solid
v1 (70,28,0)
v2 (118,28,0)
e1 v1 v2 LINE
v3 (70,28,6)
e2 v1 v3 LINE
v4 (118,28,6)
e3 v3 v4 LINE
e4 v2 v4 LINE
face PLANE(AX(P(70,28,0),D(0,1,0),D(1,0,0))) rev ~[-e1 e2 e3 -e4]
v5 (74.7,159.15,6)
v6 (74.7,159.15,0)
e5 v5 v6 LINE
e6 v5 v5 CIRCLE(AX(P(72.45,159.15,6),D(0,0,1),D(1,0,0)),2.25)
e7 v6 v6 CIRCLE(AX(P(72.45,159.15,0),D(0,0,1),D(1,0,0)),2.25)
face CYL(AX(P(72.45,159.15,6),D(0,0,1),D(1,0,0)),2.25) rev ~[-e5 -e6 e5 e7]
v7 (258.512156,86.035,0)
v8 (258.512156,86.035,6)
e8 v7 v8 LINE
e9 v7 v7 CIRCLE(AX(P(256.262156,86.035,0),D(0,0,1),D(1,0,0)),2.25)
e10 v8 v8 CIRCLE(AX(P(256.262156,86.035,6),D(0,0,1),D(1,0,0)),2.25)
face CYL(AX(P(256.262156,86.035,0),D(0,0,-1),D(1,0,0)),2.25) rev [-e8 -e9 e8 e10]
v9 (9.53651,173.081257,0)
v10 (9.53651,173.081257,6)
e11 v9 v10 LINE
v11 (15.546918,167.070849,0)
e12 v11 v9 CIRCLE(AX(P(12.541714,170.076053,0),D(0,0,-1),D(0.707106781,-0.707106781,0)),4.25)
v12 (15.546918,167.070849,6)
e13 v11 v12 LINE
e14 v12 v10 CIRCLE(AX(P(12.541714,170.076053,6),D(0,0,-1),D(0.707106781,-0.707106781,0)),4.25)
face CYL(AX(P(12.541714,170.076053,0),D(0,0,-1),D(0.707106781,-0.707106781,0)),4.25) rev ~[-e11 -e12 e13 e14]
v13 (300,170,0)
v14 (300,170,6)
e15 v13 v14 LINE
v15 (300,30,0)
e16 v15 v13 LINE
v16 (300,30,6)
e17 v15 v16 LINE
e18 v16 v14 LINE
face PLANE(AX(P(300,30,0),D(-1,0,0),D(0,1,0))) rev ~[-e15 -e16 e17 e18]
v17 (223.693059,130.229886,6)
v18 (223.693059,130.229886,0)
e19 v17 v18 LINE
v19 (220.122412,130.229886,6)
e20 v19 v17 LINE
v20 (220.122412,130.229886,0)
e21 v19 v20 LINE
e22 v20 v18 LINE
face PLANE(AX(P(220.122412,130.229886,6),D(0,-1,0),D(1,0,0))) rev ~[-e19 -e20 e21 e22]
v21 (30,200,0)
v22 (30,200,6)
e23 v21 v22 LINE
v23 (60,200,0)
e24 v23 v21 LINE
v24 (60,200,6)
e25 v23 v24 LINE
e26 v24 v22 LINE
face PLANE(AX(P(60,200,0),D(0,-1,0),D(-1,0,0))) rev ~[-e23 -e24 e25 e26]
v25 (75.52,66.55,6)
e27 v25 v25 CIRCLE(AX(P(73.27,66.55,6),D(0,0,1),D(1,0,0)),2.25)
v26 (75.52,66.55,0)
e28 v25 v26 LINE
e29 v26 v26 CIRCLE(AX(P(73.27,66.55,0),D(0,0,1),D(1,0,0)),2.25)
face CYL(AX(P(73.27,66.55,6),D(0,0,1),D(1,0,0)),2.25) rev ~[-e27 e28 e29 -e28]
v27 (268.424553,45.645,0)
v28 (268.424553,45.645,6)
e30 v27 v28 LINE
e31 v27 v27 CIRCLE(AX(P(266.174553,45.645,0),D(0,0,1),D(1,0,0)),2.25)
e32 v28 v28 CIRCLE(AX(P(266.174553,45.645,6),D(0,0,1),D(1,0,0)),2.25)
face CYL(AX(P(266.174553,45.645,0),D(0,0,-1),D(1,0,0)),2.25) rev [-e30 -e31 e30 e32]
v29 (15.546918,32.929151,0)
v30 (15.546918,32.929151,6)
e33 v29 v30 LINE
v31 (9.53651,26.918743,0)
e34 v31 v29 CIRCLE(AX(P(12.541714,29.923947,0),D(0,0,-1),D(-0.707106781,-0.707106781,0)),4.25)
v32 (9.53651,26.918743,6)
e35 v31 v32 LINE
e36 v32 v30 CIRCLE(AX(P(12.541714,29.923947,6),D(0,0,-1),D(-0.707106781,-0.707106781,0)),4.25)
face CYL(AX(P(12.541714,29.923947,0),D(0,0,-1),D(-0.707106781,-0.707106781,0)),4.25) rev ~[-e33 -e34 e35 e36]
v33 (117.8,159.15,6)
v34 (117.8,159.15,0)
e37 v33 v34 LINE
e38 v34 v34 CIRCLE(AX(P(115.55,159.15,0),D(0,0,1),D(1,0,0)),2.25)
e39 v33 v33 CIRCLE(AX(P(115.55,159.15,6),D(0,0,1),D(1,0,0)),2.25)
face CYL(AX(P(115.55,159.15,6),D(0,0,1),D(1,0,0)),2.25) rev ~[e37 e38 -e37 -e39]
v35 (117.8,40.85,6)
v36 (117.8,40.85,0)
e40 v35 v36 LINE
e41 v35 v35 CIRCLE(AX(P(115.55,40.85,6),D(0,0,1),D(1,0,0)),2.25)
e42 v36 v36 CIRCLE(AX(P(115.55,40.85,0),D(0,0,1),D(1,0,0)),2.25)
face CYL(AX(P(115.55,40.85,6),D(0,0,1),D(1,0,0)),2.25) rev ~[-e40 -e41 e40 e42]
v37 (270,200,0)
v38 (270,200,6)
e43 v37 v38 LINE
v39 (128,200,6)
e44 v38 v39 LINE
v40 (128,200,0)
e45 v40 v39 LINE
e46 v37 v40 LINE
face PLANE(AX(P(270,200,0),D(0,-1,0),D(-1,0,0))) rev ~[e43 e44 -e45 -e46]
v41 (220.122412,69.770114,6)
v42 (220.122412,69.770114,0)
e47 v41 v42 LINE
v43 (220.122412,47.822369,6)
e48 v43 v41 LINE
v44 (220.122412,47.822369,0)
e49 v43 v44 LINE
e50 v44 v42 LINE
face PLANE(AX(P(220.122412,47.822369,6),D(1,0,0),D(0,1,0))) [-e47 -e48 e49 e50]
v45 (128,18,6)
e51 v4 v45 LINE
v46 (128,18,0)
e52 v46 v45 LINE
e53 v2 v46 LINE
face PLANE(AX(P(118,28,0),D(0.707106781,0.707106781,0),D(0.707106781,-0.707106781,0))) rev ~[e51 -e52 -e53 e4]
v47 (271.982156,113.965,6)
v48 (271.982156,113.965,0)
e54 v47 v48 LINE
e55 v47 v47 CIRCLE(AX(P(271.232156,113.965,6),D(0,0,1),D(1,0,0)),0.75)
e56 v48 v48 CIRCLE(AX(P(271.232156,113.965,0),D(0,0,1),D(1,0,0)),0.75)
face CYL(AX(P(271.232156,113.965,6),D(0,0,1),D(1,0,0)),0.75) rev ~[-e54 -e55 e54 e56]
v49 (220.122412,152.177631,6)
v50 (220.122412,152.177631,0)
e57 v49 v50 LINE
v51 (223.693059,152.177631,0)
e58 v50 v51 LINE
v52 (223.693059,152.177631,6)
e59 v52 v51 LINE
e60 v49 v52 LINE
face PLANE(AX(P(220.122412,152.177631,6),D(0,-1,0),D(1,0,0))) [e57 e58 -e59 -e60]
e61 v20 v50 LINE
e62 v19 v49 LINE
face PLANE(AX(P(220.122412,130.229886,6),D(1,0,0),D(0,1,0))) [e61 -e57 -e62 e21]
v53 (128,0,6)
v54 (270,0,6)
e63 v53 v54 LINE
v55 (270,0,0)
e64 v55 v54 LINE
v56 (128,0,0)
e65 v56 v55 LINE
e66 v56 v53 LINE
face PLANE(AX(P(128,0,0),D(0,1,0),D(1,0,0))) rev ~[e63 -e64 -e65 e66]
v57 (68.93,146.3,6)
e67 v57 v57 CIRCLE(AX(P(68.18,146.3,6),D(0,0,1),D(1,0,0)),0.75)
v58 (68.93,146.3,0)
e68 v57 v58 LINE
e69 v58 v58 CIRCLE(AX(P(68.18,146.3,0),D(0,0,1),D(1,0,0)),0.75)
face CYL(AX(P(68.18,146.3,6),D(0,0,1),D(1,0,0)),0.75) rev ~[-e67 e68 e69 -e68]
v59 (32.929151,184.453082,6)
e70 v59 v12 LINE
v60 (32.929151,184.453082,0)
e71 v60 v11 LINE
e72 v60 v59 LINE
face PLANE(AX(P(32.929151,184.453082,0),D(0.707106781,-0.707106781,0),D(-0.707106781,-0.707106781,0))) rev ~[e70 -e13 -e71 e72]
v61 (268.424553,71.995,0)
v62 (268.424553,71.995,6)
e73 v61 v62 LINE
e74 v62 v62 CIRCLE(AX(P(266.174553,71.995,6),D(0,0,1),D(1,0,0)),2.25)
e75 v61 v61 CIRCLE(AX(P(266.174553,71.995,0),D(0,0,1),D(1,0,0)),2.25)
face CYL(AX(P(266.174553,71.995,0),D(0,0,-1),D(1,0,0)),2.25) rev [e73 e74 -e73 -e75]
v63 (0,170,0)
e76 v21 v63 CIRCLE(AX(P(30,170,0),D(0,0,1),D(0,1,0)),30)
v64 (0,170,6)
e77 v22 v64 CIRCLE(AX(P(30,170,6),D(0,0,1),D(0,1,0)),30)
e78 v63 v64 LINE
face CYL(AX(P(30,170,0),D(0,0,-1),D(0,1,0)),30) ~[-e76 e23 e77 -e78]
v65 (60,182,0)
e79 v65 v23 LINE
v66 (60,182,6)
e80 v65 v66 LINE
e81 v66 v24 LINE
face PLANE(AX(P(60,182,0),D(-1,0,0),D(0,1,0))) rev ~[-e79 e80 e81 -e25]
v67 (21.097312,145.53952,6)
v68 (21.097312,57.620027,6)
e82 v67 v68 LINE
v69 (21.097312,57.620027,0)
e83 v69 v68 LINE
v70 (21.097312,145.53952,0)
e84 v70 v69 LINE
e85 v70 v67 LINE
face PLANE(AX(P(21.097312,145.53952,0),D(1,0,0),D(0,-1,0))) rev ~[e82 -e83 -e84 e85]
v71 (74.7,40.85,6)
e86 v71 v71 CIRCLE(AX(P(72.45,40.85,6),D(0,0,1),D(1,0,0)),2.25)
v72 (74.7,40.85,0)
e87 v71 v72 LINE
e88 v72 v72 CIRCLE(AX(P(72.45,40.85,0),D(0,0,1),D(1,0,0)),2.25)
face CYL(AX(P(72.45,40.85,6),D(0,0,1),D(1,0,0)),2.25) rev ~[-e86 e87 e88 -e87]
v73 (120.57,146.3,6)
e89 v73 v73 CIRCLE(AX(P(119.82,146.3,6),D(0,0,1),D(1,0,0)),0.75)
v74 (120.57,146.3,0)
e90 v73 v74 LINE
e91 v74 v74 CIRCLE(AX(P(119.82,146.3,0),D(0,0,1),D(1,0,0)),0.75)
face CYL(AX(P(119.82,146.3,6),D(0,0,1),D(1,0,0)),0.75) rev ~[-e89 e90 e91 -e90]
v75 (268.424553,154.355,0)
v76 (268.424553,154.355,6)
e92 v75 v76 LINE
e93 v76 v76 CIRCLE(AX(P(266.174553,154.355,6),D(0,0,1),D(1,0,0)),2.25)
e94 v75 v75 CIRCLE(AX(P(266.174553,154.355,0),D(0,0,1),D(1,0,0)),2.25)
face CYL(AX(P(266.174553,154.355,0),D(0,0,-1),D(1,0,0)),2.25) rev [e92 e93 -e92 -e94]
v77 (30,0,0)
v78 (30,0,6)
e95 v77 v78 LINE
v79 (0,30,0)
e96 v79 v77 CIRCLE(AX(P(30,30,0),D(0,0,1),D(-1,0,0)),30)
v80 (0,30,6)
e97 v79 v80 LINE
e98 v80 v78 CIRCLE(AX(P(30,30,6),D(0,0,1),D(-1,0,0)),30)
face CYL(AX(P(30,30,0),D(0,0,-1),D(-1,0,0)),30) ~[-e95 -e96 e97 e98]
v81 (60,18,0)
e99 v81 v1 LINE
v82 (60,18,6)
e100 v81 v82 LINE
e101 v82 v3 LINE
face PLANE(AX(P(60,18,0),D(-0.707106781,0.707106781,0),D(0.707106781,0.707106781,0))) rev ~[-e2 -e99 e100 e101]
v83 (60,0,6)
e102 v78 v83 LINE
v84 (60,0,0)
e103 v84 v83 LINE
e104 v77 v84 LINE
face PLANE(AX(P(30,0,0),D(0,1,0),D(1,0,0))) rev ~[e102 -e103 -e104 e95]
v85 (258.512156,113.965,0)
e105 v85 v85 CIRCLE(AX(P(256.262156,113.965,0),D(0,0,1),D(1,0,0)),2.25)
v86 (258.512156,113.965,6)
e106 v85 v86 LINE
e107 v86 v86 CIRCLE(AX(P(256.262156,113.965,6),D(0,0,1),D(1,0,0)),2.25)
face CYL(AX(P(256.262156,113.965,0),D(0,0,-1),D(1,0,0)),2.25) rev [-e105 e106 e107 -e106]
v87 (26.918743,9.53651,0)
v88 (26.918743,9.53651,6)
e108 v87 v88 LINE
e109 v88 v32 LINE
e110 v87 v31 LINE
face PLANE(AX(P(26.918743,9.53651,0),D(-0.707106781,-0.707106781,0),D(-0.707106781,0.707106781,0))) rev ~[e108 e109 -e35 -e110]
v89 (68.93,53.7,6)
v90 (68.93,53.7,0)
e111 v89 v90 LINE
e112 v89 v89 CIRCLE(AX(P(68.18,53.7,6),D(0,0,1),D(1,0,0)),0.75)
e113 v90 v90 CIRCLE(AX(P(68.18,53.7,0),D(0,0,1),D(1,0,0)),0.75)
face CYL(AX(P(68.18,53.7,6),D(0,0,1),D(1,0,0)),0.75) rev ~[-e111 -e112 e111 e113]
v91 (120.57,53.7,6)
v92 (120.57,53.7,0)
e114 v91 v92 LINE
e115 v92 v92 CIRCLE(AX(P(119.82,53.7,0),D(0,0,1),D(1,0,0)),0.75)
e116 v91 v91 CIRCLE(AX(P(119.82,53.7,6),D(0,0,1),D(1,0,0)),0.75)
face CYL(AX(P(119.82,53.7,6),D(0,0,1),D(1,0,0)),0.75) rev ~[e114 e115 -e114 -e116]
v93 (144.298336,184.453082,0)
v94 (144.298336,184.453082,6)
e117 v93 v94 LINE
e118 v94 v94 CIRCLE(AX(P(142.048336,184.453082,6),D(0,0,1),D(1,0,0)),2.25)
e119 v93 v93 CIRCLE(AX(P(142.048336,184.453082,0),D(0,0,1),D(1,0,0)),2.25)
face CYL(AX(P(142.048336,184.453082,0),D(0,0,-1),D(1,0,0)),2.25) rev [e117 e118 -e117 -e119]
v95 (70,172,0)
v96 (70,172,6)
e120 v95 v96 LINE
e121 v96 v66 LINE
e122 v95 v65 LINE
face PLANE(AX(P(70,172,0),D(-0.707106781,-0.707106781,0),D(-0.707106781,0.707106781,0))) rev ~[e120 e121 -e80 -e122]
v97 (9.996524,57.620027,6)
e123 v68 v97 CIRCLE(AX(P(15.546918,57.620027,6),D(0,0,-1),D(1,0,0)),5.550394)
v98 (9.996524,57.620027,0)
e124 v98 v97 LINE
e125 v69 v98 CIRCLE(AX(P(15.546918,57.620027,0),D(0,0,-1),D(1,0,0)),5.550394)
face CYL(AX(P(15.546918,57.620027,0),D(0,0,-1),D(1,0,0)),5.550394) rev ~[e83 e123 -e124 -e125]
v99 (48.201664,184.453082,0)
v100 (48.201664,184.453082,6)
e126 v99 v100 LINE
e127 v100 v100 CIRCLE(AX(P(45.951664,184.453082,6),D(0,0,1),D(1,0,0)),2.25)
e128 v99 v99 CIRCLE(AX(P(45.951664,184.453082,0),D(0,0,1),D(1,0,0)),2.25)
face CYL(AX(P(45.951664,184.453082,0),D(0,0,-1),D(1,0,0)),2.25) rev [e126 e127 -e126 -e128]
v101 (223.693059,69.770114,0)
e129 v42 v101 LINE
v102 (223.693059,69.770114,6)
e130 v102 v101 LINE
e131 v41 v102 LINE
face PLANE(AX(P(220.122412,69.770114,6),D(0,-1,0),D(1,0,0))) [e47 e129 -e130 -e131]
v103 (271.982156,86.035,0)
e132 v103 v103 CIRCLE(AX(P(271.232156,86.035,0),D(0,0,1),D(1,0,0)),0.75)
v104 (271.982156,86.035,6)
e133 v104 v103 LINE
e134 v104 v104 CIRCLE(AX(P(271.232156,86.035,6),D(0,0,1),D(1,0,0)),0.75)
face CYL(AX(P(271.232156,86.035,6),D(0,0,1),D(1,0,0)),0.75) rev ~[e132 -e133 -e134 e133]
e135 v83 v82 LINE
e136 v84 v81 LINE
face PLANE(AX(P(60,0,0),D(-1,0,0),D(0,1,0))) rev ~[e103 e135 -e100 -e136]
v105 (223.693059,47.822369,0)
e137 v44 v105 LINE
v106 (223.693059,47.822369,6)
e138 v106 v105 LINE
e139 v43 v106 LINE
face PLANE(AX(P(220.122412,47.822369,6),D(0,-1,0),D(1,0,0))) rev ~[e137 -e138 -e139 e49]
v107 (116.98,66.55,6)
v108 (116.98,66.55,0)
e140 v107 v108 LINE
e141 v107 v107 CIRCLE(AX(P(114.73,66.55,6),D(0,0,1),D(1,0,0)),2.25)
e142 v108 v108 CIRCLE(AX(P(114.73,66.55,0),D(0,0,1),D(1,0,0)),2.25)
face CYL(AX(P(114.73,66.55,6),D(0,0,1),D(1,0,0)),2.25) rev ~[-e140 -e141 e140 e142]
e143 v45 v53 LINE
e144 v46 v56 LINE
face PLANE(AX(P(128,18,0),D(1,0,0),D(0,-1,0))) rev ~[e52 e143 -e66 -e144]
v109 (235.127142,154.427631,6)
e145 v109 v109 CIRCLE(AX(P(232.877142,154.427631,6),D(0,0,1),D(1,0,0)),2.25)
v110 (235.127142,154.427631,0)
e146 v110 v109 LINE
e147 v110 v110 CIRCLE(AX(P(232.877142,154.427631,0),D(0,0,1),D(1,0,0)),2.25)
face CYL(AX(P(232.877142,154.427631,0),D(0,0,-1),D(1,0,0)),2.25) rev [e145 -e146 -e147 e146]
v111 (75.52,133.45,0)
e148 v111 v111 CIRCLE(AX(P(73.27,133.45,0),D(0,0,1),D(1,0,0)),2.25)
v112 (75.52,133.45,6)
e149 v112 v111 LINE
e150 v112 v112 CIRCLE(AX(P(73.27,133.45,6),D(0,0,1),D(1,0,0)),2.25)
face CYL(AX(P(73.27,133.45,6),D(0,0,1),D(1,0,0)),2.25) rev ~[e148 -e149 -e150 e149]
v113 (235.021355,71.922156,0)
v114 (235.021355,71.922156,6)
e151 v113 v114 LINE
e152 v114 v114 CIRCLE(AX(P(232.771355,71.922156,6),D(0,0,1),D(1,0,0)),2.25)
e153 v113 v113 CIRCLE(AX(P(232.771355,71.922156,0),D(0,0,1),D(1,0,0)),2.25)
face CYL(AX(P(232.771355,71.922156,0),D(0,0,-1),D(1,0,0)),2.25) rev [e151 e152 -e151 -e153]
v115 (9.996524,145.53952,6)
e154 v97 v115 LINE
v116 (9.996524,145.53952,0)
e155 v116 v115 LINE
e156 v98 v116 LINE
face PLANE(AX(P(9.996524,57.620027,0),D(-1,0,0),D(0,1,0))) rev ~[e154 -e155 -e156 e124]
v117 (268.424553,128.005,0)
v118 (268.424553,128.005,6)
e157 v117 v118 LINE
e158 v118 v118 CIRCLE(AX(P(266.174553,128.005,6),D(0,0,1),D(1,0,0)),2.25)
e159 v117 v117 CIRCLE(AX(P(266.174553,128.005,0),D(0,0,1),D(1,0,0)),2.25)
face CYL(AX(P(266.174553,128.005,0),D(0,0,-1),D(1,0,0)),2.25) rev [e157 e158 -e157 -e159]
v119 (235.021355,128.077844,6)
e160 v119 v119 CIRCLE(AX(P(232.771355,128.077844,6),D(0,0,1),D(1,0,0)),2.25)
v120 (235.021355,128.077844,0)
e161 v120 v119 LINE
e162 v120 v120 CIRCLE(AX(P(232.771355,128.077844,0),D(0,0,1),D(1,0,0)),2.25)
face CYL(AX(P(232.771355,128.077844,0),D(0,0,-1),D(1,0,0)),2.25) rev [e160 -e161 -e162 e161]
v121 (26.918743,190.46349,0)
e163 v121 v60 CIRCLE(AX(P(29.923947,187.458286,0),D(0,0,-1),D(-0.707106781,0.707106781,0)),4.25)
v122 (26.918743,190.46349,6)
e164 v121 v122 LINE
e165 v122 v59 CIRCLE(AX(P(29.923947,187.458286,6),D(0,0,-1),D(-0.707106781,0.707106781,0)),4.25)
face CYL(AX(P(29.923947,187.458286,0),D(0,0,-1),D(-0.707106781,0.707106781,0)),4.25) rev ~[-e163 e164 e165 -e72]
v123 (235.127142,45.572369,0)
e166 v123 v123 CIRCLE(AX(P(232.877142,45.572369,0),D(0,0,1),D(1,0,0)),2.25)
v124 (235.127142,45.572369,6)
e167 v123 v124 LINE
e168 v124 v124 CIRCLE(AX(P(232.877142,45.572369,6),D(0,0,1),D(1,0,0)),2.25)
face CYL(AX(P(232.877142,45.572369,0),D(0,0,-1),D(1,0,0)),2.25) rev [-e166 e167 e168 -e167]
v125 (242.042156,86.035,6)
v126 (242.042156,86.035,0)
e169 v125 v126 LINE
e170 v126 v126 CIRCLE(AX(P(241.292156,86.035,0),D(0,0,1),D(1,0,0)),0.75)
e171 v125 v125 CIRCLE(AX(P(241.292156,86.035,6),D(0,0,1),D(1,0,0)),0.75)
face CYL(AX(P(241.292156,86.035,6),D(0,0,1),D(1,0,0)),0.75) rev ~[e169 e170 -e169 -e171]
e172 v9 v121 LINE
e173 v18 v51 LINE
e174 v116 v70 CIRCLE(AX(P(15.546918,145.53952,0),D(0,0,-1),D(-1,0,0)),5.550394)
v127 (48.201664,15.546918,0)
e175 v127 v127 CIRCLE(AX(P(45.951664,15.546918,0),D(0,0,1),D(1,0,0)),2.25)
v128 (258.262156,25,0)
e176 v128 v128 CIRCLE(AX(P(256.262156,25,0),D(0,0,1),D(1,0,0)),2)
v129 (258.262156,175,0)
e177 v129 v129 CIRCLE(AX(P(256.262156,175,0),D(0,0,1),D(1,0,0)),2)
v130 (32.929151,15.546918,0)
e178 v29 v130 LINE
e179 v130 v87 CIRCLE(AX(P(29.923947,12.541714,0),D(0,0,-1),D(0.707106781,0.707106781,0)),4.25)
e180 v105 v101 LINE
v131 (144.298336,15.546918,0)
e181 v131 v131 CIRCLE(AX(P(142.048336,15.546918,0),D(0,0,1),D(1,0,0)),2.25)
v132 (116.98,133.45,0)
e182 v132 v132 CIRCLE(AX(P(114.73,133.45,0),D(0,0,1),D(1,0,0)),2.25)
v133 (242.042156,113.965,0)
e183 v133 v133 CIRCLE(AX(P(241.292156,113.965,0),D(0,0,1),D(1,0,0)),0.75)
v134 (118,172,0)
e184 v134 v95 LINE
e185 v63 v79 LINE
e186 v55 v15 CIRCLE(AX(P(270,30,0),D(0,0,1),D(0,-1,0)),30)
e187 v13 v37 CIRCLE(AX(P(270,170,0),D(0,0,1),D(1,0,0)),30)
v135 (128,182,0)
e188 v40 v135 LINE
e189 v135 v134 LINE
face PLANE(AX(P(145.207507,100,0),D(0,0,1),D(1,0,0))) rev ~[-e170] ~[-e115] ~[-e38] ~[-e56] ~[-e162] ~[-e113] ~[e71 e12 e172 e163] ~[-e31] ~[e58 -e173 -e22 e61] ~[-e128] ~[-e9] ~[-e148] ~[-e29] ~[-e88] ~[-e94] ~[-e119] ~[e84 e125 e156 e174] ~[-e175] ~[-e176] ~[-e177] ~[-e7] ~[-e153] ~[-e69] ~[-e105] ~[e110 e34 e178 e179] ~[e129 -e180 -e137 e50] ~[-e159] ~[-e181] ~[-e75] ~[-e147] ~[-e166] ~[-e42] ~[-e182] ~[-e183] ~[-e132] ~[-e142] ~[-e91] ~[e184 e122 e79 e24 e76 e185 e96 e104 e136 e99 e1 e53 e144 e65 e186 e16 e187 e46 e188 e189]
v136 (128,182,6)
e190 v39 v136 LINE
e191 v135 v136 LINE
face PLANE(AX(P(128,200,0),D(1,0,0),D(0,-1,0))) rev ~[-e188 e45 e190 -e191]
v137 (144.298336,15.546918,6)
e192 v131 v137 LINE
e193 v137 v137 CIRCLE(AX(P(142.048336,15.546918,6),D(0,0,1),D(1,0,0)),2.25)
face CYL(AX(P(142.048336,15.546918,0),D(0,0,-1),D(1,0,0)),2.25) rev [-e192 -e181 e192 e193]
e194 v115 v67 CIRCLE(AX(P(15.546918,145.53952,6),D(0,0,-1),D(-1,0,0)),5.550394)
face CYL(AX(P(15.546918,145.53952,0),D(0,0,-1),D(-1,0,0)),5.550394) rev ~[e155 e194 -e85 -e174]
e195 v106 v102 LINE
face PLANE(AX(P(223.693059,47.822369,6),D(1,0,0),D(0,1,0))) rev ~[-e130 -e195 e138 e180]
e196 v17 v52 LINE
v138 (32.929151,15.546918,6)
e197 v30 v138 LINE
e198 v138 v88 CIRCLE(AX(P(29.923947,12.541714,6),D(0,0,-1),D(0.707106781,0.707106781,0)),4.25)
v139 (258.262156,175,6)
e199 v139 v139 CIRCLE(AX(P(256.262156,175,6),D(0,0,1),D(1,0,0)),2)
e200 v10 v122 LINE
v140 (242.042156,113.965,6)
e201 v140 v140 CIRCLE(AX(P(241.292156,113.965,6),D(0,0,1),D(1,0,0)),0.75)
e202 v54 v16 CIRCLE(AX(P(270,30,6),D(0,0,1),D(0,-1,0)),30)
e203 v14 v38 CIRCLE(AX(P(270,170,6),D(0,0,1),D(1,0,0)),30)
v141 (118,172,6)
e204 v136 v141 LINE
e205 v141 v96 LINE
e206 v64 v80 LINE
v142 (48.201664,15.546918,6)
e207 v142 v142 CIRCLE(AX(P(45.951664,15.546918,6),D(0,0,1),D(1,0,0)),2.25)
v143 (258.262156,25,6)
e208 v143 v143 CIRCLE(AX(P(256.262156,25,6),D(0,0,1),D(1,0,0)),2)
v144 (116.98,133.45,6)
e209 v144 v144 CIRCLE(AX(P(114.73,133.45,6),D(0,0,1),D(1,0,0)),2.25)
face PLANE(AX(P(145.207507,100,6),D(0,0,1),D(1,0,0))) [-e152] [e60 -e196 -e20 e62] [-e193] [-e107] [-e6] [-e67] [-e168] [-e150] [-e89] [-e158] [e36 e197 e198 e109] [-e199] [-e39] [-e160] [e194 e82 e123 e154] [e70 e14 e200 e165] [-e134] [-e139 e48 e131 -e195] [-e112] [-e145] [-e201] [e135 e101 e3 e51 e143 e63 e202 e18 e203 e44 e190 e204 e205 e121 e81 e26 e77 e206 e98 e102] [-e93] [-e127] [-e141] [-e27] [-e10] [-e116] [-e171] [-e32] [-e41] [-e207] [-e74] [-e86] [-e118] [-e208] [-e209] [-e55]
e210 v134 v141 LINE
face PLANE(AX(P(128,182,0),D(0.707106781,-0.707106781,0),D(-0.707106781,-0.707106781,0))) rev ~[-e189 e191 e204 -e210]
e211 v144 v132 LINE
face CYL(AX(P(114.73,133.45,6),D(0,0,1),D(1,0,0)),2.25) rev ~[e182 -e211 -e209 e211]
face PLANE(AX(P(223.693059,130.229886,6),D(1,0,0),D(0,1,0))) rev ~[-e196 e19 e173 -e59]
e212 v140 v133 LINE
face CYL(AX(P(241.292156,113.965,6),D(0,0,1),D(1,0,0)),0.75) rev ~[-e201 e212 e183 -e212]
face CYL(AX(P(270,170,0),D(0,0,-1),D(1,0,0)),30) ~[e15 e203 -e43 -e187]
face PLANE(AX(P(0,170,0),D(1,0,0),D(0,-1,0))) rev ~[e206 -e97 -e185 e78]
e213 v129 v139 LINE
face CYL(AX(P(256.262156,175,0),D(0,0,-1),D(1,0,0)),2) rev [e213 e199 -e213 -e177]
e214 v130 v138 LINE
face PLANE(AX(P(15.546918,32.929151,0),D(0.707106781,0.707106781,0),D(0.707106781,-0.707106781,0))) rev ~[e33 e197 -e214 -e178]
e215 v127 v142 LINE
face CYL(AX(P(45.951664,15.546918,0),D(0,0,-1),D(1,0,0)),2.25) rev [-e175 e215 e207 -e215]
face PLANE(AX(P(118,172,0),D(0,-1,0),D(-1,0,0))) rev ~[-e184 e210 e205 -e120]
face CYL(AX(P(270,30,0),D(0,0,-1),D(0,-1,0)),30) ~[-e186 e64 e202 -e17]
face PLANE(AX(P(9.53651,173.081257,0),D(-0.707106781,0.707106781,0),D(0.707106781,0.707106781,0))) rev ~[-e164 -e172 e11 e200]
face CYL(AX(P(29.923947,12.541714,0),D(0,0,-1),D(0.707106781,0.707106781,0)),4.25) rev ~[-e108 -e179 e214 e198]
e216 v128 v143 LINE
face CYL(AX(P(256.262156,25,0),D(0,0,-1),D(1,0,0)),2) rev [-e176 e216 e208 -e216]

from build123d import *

# Parameters (mm, degrees)
SKETCH2_R           = 2.25
SKETCH2_R_2         = 2
BOSS_EXTRUDE2_DEPTH = 6
SKETCH5_R           = 2.25
CUT_EXTRUDE2_DEPTH  = 7
SKETCH6_R           = 0.75
SKETCH6_W           = 3.570647065
SKETCH6_H           = 21.947745834
CUT_EXTRUDE3_DEPTH  = 7
SKETCH7_R           = 0.75
CUT_EXTRUDE4_DEPTH  = 7


with BuildPart() as part:
    # Sketch2 → Boss-Extrude2 (new body)
    with BuildSketch(Plane.XY):
        with BuildLine():
            ThreePointArc((0, 30), (8.786796564, 8.786796564), (30, 0))
            Line((30, 0), (60, 0))
            Line((60, 0), (60, 18))
            Line((60, 18), (70, 28))
            Line((70, 28), (118, 28))
            Line((118, 28), (128, 18))
            Line((128, 18), (128, 0))
            Line((128, 0), (270, 0))
            ThreePointArc((270, 0), (291.213203436, 8.786796564), (300, 30))
            Line((300, 30), (300, 170))
            ThreePointArc((300, 170), (291.213203436, 191.213203436), (270, 200))
            Line((270, 200), (128, 200))
            Line((128, 200), (128, 182))
            Line((128, 182), (118, 172))
            Line((118, 172), (70, 172))
            Line((70, 172), (60, 182))
            Line((60, 182), (60, 200))
            Line((60, 200), (30, 200))
            ThreePointArc((30, 200), (8.786796564, 191.213203436), (0, 170))
            Line((0, 170), (0, 30))
        make_face()
        with BuildLine():
            Line((26.918743033, 9.536510288), (9.536510288, 26.918743033))
            ThreePointArc((9.536510288, 26.918743033), (9.536510288, 32.929150673), (15.546917928, 32.929150673))
            Line((15.546917928, 32.929150673), (32.929150673, 15.546917928))
            ThreePointArc((32.929150673, 15.546917928), (32.929150673, 9.536510288), (26.918743033, 9.536510288))
        make_face(mode=Mode.SUBTRACT)
        with Locations((45.951664231, 15.546917928)):
            Circle(SKETCH2_R, mode=Mode.SUBTRACT)
        with Locations((142.048335769, 15.546917928)):
            Circle(SKETCH2_R, mode=Mode.SUBTRACT)
        with Locations((256.262155689, 25)):
            Circle(SKETCH2_R_2, mode=Mode.SUBTRACT)
        with Locations((232.877141624, 45.572368642)):
            Circle(SKETCH2_R, mode=Mode.SUBTRACT)
        with Locations((266.174553403, 45.645)):
            Circle(SKETCH2_R, mode=Mode.SUBTRACT)
        with Locations((232.771355194, 71.922156293)):
            Circle(SKETCH2_R, mode=Mode.SUBTRACT)
        with Locations((266.174553403, 71.995)):
            Circle(SKETCH2_R, mode=Mode.SUBTRACT)
        with Locations((256.262155689, 86.035)):
            Circle(SKETCH2_R, mode=Mode.SUBTRACT)
        with BuildLine():
            ThreePointArc((9.996523571, 145.539520474), (15.546917928, 151.089914831), (21.097312286, 145.539520474))
            Line((21.097312286, 145.539520474), (21.097312286, 57.620027261))
            ThreePointArc((21.097312286, 57.620027261), (15.546917928, 52.069632903), (9.996523571, 57.620027261))
            Line((9.996523571, 57.620027261), (9.996523571, 145.539520474))
        make_face(mode=Mode.SUBTRACT)
        with BuildLine():
            ThreePointArc((15.546917928, 167.070849327), (9.536510288, 167.070849327), (9.536510288, 173.081256967))
            Line((9.536510288, 173.081256967), (26.918743033, 190.463489712))
            ThreePointArc((26.918743033, 190.463489712), (32.929150673, 190.463489712), (32.929150673, 184.453082072))
            Line((32.929150673, 184.453082072), (15.546917928, 167.070849327))
        make_face(mode=Mode.SUBTRACT)
        with Locations((45.951664231, 184.453082072)):
            Circle(SKETCH2_R, mode=Mode.SUBTRACT)
        with Locations((142.048335769, 184.453082072)):
            Circle(SKETCH2_R, mode=Mode.SUBTRACT)
        with Locations((256.262155689, 113.965)):
            Circle(SKETCH2_R, mode=Mode.SUBTRACT)
        with Locations((232.771355194, 128.077843707)):
            Circle(SKETCH2_R, mode=Mode.SUBTRACT)
        with Locations((266.174553403, 128.005)):
            Circle(SKETCH2_R, mode=Mode.SUBTRACT)
        with Locations((232.877141624, 154.427631358)):
            Circle(SKETCH2_R, mode=Mode.SUBTRACT)
        with Locations((266.174553403, 154.355)):
            Circle(SKETCH2_R, mode=Mode.SUBTRACT)
        with Locations((256.262155689, 175)):
            Circle(SKETCH2_R_2, mode=Mode.SUBTRACT)
    extrude(amount=BOSS_EXTRUDE2_DEPTH)

    # Sketch5 → Cut-Extrude2 (cut, through all)
    with BuildSketch(Plane.XY.offset(6)):
        with Locations((73.27, 66.55)):
            Circle(SKETCH5_R)
        with Locations((72.45, 40.85)):
            Circle(SKETCH5_R)
        with Locations((115.55, 40.85)):
            Circle(SKETCH5_R)
        with Locations((114.73, 66.55)):
            Circle(SKETCH5_R)
        with Locations((115.55, 159.15)):
            Circle(SKETCH5_R)
        with Locations((72.45, 159.15)):
            Circle(SKETCH5_R)
        with Locations((73.27, 133.45)):
            Circle(SKETCH5_R)
        with Locations((114.73, 133.45)):
            Circle(SKETCH5_R)
    extrude(amount=-CUT_EXTRUDE2_DEPTH, mode=Mode.SUBTRACT)

    # Sketch6 → Cut-Extrude3 (cut, through all)
    with BuildSketch(Plane.XY.offset(6)):
        with Locations((68.18, 146.3)):
            Circle(SKETCH6_R)
        with Locations((119.82, 146.3)):
            Circle(SKETCH6_R)
        with Locations((119.82, 53.7)):
            Circle(SKETCH6_R)
        with Locations((68.18, 53.7)):
            Circle(SKETCH6_R)
        with Locations((221.907735921, 58.796241559)):
            Rectangle(SKETCH6_W, SKETCH6_H)
        with Locations((221.907735921, 141.203758441)):
            Rectangle(SKETCH6_W, SKETCH6_H)
    extrude(amount=-CUT_EXTRUDE3_DEPTH, mode=Mode.SUBTRACT)

    # Sketch7 → Cut-Extrude4 (cut, through all)
    with BuildSketch(Plane.XY.offset(6)):
        with Locations((241.292155689, 113.965)):
            Circle(SKETCH7_R)
        with Locations((241.292155689, 86.035)):
            Circle(SKETCH7_R)
        with Locations((271.232155689, 86.035)):
            Circle(SKETCH7_R)
        with Locations((271.232155689, 113.965)):
            Circle(SKETCH7_R)
    extrude(amount=-CUT_EXTRUDE4_DEPTH, mode=Mode.SUBTRACT)


solid = part.part
